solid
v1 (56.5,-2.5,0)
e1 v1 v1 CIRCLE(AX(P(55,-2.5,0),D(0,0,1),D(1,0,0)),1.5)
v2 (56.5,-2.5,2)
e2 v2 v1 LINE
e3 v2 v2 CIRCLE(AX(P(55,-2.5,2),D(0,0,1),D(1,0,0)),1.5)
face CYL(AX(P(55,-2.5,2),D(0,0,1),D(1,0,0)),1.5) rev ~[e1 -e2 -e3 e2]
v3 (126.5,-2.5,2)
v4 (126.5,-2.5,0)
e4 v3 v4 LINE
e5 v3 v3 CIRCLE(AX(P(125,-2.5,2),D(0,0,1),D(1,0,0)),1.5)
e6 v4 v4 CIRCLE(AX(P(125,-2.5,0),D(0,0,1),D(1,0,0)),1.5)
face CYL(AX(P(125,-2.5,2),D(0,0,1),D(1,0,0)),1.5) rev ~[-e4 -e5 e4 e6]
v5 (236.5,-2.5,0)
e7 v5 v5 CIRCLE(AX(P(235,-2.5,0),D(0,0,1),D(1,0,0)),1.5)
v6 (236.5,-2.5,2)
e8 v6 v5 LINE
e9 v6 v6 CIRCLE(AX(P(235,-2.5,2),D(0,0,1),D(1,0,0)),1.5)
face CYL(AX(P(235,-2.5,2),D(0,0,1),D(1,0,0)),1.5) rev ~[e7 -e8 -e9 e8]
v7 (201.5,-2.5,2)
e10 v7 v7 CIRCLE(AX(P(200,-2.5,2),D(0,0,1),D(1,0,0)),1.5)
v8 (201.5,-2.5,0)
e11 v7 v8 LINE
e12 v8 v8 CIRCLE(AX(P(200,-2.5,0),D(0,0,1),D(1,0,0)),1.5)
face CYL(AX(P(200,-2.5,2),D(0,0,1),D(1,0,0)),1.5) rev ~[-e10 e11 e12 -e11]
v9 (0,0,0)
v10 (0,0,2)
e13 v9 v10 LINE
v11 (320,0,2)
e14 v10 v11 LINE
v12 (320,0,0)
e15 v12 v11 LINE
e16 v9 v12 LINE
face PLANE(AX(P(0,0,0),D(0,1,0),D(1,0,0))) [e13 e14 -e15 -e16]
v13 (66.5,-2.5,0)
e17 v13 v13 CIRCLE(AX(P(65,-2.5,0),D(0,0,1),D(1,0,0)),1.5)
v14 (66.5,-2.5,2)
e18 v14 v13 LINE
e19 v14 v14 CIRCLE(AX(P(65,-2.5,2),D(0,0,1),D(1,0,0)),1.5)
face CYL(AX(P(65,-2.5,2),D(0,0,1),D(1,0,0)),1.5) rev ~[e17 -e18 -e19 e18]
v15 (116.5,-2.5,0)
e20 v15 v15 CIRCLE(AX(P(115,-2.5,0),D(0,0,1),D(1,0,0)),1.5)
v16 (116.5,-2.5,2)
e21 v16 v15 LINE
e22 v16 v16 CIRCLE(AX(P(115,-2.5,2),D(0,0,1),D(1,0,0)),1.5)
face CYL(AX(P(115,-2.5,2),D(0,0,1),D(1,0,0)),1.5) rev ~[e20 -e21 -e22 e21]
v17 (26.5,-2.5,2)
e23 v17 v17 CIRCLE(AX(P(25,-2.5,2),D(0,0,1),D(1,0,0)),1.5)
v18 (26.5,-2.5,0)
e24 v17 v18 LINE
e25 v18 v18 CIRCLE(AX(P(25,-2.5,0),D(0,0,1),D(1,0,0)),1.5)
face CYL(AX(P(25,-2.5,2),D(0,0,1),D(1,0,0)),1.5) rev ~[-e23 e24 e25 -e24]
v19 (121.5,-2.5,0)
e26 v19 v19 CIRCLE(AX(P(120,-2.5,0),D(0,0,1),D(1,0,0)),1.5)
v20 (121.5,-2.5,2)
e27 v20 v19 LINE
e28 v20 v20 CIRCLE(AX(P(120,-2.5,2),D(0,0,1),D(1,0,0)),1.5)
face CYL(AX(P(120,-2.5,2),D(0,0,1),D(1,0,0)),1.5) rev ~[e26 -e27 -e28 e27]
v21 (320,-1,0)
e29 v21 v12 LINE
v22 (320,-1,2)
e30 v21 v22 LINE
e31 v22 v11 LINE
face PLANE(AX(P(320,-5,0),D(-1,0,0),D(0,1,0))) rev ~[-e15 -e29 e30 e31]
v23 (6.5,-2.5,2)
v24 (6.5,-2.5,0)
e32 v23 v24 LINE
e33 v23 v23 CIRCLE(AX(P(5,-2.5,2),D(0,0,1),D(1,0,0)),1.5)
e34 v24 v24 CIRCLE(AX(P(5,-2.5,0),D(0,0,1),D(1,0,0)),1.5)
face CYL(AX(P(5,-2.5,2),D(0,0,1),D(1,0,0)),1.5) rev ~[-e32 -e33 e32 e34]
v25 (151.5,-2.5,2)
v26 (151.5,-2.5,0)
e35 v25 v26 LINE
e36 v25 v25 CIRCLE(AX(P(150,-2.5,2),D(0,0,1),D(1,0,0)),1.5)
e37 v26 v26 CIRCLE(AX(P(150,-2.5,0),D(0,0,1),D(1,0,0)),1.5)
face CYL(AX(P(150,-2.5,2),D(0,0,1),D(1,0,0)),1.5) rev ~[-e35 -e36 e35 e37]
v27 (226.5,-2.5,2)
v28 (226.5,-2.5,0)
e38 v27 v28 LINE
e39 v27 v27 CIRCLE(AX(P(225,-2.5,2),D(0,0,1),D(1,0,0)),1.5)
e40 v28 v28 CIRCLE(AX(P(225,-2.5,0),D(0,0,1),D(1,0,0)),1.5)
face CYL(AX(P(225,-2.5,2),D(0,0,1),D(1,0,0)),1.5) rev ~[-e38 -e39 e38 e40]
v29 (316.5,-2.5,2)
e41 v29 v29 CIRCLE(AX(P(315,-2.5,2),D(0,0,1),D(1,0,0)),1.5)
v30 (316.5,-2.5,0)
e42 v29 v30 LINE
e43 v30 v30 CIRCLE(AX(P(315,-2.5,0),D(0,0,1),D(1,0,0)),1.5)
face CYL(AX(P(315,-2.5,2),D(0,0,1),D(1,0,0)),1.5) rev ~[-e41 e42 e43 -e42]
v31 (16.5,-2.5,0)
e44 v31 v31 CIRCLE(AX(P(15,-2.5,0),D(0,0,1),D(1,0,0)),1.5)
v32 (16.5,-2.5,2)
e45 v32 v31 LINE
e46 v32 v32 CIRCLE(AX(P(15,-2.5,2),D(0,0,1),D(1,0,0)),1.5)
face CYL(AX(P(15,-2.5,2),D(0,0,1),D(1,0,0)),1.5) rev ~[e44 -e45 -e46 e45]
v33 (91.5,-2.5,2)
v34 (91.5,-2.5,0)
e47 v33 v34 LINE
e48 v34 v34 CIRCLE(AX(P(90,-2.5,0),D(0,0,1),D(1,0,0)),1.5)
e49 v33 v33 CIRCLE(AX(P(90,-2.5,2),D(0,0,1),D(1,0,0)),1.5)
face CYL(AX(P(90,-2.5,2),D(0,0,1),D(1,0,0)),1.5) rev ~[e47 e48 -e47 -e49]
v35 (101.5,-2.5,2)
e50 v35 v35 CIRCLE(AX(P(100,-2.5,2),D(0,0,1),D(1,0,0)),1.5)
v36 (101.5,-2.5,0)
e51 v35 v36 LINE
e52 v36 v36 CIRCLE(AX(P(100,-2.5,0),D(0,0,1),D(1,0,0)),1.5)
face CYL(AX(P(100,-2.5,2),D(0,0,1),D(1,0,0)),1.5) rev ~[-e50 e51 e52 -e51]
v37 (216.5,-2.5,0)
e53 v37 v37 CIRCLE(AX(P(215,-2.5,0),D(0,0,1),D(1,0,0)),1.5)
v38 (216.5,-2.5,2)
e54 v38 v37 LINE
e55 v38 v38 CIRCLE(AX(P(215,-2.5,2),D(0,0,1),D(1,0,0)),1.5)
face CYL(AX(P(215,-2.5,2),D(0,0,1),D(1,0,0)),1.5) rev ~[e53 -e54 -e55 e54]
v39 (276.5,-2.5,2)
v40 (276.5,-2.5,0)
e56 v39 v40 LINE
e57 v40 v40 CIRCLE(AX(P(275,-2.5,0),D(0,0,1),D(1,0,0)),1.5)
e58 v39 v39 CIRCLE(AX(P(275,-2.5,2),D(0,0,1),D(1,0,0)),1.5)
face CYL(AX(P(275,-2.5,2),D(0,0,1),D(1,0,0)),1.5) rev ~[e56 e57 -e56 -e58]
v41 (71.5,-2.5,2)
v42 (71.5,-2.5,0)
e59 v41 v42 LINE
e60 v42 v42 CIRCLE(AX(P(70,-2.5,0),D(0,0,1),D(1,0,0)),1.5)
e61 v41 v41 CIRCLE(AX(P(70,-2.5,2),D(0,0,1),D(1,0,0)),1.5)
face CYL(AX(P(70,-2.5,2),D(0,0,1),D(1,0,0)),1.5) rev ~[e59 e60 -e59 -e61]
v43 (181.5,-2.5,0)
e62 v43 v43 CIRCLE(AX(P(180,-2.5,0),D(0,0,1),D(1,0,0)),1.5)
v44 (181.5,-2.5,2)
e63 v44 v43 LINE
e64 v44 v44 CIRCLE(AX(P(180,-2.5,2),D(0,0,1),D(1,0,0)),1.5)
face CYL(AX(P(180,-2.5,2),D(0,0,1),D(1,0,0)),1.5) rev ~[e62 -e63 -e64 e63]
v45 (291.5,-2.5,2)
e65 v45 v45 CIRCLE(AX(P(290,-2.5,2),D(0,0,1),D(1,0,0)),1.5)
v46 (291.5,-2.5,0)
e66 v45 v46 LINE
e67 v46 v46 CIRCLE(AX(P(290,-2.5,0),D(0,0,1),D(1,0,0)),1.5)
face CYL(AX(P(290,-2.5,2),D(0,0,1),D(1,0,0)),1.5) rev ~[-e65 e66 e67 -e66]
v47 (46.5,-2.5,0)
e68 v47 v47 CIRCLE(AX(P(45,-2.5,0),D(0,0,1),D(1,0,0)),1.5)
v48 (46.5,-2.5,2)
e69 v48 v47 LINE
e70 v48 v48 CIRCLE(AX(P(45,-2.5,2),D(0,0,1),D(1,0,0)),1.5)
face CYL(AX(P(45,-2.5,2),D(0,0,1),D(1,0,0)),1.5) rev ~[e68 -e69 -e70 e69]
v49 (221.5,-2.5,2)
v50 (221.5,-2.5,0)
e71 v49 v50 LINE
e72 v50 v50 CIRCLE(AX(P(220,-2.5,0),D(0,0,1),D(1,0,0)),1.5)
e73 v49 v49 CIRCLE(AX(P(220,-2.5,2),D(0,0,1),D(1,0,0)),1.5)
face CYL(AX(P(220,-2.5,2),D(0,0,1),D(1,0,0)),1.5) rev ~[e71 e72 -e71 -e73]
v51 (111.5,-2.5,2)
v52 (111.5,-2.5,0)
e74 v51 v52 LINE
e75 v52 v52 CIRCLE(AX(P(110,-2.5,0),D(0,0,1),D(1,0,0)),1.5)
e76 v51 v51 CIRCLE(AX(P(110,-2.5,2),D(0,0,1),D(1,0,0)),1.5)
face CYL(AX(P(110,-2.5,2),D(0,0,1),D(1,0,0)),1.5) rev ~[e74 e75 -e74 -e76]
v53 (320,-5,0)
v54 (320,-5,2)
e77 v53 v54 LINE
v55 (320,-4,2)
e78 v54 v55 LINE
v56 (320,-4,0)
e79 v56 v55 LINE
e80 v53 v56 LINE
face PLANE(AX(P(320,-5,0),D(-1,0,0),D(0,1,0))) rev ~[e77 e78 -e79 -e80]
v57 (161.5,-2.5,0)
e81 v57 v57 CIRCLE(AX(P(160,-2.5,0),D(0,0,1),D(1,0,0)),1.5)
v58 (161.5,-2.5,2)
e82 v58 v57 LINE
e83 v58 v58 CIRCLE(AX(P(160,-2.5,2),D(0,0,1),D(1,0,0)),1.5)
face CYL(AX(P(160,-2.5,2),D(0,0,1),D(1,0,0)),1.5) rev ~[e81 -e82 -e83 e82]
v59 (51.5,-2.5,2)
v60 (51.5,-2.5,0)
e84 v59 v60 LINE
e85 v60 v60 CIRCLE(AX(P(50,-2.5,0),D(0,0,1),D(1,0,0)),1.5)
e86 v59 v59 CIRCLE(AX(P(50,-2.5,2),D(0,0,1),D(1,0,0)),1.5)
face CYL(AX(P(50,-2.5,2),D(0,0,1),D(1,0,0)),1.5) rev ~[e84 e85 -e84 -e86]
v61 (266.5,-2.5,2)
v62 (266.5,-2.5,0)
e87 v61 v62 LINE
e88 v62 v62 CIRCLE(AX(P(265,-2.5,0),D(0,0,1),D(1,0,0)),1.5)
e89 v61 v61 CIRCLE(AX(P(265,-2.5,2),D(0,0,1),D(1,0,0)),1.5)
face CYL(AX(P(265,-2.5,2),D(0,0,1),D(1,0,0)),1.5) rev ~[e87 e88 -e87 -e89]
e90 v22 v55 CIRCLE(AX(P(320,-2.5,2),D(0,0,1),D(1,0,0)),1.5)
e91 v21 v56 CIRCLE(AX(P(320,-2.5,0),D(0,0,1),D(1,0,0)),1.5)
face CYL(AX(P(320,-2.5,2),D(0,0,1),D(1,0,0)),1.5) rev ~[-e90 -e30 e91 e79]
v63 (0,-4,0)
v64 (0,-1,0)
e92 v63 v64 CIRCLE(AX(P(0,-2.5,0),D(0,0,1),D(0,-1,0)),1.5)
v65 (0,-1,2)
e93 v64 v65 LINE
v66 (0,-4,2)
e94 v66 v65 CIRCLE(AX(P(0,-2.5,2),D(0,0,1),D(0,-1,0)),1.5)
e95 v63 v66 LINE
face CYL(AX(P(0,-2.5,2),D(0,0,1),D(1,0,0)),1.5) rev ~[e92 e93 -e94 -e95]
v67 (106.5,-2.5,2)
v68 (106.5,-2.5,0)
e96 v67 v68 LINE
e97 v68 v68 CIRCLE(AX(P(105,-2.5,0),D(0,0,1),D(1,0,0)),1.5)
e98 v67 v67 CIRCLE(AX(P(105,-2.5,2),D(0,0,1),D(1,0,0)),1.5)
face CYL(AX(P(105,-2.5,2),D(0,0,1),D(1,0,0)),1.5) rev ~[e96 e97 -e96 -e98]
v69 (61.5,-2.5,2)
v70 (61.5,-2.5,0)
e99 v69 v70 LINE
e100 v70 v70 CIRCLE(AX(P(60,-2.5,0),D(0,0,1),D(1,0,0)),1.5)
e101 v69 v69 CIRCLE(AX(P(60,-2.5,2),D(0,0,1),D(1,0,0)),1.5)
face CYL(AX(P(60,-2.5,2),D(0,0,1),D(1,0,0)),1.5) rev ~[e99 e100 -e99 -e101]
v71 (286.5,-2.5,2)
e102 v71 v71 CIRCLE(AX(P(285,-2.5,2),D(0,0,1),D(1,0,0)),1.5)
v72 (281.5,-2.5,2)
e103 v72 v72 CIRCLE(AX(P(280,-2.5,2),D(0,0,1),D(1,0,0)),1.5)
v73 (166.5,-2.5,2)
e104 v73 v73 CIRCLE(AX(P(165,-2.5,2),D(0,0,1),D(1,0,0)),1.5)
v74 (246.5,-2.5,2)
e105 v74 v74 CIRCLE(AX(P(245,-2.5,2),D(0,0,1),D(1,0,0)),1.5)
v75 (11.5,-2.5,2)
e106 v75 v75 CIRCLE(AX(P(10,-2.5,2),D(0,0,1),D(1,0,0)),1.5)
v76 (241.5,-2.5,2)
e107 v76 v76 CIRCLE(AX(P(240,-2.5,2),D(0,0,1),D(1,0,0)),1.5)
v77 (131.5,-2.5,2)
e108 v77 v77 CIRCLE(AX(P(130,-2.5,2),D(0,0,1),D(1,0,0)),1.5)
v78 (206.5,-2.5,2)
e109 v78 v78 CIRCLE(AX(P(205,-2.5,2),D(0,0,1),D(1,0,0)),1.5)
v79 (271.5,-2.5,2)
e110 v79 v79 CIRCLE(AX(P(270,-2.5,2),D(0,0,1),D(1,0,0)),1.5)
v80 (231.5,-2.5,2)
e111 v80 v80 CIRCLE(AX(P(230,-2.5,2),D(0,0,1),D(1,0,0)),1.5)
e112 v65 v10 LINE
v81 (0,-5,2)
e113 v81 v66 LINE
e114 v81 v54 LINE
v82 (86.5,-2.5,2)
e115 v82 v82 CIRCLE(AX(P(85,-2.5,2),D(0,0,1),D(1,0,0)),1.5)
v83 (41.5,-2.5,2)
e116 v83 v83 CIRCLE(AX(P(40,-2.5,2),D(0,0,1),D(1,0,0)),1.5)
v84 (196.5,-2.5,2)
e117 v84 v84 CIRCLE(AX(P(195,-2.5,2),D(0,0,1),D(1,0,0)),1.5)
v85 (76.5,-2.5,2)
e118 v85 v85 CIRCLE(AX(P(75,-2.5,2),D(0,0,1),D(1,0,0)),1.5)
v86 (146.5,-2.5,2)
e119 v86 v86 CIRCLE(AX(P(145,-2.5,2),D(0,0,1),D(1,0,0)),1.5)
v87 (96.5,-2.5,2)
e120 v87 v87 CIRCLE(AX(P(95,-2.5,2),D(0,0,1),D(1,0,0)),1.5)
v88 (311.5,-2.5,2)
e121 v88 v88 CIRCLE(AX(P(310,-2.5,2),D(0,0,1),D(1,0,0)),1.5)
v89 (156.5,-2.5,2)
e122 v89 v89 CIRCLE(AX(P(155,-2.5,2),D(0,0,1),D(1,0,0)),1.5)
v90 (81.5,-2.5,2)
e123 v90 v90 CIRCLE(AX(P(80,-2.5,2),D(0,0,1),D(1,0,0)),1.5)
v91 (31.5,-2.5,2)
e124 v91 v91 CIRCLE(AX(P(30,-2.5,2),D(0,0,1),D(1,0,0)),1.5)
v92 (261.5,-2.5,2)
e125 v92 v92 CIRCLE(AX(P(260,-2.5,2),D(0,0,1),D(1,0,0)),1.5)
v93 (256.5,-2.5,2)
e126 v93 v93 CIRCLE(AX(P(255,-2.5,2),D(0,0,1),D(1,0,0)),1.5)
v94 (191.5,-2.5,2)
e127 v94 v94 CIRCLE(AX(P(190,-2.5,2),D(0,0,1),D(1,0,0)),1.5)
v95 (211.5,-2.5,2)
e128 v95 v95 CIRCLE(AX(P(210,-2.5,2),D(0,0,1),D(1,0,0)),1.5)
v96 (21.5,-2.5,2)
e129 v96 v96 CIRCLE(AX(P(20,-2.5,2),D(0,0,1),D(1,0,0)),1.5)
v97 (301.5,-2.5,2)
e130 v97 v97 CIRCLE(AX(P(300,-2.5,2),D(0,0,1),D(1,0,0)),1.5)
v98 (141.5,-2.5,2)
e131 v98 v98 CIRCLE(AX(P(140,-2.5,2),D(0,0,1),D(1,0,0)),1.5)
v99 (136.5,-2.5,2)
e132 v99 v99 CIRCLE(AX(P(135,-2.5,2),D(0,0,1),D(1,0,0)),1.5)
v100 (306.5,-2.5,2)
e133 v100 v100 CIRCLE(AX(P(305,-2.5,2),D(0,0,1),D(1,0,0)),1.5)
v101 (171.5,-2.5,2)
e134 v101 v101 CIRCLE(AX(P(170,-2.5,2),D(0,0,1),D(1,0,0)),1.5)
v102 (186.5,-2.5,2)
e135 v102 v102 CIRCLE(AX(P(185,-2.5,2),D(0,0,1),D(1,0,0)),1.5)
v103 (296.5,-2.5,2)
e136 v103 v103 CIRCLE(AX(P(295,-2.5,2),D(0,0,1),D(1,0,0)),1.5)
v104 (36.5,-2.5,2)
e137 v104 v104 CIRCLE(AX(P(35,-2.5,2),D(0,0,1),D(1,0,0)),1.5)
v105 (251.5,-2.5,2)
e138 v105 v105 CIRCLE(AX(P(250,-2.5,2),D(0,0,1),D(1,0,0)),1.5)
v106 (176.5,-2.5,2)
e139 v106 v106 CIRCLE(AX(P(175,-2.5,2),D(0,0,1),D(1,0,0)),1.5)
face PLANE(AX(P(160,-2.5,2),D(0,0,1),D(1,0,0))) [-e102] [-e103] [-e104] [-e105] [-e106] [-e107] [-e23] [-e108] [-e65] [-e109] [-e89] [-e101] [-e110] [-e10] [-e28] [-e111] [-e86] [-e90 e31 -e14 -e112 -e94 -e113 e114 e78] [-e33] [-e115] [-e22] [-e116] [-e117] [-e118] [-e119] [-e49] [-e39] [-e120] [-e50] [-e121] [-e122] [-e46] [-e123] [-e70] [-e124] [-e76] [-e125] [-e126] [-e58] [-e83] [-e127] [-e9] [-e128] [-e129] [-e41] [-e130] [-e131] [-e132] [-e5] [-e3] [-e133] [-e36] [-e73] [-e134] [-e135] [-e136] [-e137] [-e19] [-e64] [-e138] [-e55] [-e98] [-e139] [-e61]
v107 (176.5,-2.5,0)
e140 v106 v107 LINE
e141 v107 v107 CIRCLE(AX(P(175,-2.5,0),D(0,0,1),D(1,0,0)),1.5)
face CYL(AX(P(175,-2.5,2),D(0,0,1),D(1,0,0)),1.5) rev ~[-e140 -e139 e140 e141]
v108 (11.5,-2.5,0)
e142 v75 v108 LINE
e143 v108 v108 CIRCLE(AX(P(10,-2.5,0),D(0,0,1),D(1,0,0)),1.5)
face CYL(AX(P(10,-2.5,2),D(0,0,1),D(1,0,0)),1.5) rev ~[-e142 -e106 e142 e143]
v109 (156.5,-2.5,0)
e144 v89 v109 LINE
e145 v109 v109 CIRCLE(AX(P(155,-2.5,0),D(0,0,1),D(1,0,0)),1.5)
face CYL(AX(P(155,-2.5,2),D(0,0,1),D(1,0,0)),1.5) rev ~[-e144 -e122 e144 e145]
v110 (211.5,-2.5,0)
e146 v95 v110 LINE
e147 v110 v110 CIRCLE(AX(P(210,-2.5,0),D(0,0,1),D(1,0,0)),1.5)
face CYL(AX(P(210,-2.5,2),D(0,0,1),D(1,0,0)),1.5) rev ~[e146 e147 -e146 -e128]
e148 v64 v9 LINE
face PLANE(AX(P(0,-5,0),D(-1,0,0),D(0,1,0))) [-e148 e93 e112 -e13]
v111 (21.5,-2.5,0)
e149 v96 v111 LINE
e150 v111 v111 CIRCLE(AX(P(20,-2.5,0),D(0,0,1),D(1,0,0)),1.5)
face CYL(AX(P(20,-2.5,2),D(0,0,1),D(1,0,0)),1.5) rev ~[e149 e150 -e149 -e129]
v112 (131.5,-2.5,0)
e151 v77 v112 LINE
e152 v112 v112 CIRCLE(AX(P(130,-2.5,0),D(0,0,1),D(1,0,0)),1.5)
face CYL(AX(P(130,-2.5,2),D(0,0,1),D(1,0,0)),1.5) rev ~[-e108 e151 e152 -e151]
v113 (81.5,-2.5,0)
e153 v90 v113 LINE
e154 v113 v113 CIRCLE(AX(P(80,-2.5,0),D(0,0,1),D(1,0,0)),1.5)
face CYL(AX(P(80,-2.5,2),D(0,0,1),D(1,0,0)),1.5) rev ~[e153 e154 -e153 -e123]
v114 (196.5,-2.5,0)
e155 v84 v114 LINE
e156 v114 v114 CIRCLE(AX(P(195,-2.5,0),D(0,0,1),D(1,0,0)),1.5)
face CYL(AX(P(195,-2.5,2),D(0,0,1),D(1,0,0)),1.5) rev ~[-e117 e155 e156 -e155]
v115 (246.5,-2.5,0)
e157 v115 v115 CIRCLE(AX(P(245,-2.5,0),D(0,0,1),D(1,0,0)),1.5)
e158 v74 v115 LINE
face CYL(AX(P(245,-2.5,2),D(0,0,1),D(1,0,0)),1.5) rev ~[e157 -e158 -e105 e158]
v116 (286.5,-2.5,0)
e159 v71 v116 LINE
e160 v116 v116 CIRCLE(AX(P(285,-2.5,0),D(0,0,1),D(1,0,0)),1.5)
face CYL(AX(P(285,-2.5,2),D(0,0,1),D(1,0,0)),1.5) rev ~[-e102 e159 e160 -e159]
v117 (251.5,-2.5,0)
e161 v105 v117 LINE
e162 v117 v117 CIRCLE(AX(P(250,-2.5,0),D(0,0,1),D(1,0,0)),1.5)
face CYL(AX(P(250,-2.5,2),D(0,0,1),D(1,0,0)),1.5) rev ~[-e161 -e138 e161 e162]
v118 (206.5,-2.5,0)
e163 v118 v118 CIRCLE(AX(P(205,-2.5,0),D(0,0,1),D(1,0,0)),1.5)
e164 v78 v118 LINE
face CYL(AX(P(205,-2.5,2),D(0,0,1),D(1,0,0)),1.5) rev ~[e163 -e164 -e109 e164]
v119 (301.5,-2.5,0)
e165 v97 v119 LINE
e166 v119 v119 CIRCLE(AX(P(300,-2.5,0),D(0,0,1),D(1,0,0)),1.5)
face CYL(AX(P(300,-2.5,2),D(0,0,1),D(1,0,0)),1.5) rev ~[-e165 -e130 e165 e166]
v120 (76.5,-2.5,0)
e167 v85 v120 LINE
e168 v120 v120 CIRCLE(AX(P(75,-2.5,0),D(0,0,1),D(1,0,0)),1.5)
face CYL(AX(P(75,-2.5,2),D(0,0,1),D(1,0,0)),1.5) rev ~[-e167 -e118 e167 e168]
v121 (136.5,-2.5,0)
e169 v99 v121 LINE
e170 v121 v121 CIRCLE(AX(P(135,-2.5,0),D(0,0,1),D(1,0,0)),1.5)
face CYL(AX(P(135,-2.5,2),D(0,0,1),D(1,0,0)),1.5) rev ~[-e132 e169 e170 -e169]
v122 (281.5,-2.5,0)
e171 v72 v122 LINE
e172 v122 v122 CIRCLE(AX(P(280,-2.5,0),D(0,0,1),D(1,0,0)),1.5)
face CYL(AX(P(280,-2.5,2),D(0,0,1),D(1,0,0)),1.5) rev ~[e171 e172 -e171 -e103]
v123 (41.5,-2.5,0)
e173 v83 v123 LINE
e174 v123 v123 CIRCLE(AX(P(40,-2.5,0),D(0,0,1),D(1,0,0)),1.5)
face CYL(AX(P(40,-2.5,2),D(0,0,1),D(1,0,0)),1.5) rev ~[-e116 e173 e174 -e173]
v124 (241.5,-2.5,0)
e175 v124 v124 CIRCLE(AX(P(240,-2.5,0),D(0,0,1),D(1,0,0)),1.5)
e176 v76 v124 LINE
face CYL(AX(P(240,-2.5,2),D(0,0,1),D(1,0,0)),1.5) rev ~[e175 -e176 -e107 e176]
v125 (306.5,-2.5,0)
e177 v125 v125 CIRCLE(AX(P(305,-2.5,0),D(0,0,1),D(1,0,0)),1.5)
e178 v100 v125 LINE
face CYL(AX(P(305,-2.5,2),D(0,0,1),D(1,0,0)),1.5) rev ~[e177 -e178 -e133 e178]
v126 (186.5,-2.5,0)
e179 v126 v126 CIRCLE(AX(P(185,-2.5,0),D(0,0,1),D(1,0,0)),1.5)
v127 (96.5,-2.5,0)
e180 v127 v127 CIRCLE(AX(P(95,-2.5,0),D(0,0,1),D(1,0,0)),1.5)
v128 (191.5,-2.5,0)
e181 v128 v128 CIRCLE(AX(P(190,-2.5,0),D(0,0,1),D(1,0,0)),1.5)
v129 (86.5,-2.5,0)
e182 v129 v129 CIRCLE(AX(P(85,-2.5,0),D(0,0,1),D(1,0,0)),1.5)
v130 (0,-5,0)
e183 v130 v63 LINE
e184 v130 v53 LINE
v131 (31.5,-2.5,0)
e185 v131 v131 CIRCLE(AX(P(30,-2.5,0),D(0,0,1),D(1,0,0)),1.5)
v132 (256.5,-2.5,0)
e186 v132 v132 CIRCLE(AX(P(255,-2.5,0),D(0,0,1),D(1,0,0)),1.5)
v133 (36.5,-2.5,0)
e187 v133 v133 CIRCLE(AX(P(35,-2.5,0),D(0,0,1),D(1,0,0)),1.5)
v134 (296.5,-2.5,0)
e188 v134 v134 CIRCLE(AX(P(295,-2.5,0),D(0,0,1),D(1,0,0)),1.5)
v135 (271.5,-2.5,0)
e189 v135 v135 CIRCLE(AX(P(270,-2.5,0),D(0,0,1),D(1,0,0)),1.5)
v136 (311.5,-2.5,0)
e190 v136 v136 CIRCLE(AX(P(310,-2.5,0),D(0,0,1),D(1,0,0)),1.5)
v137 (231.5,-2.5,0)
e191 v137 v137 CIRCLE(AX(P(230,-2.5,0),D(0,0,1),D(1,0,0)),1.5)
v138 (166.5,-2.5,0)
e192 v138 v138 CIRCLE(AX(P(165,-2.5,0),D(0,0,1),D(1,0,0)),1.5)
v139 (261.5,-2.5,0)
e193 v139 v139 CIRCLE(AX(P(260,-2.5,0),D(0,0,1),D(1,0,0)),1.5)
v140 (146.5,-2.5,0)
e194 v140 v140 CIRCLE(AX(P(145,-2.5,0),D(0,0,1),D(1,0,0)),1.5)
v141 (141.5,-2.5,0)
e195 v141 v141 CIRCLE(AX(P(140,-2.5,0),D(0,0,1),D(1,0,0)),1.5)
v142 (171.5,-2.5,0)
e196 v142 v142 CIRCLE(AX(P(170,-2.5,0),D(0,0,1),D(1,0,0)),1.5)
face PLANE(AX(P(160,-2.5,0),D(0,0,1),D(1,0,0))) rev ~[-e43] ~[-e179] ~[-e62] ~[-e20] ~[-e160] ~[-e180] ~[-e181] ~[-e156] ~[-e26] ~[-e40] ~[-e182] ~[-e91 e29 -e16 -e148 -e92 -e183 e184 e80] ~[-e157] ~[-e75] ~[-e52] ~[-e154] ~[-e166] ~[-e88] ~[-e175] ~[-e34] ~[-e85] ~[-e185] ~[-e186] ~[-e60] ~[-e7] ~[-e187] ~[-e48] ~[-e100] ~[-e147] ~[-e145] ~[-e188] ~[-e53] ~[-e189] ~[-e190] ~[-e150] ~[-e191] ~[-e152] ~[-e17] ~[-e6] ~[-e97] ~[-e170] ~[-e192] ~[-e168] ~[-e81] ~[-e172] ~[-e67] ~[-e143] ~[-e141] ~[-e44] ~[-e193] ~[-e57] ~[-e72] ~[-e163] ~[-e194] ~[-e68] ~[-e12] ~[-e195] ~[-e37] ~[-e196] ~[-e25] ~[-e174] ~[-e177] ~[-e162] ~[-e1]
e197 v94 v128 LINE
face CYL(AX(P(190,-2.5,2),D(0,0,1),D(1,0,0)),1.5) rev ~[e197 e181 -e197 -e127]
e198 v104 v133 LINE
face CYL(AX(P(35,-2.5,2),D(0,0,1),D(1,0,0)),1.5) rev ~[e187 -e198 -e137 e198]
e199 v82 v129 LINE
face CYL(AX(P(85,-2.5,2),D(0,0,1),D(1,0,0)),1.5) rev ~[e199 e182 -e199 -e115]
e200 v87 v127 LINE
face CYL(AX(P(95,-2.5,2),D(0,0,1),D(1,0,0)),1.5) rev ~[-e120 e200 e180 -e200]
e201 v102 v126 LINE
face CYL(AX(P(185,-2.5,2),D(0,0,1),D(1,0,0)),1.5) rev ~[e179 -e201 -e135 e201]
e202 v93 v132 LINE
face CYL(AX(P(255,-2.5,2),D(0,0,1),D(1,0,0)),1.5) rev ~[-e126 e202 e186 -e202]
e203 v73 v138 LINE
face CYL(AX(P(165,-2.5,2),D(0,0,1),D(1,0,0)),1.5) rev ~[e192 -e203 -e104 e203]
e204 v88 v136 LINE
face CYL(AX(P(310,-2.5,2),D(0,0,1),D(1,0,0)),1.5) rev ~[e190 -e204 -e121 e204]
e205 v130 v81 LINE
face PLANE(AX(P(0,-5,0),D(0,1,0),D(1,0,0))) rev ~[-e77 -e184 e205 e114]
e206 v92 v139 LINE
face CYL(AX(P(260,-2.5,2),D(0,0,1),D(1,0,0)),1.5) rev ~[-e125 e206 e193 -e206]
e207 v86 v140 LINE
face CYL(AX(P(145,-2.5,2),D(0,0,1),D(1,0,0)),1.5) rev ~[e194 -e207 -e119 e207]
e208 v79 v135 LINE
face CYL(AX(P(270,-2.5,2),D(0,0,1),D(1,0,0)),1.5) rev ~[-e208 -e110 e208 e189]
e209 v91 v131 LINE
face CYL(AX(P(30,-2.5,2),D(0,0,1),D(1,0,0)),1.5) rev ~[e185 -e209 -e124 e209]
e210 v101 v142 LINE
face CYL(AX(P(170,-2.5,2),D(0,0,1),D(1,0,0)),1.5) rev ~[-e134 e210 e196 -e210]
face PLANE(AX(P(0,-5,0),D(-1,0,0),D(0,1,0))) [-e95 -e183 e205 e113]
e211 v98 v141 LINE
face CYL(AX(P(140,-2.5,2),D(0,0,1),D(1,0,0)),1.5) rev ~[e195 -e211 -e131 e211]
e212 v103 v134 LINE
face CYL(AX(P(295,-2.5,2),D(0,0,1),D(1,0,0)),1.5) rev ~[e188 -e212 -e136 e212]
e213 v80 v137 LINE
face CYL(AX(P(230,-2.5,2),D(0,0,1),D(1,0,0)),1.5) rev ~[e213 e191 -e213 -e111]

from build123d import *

# Parameters (mm, degrees)
SKETCH_1_W             = 320
SKETCH_1_H             = 5
EXTRUDE_1_DEPTH        = 2
SKETCH_2_R             = 1.5
CUT_EXTRUDE_1_DEPTH    = 321.045309292
PATTERN_LINEAR_1_COUNT = 35
PATTERN_LINEAR_1_PITCH = 5
PATTERN_LINEAR_2_COUNT = 35
PATTERN_LINEAR_2_PITCH = 5


with BuildPart() as part:
    # 草图1 → 凸台-拉伸1 (new body)
    with BuildSketch(Plane.XY):
        with Locations((160, -2.5)):
            Rectangle(SKETCH_1_W, SKETCH_1_H)
    extrude(amount=EXTRUDE_1_DEPTH)

    # 草图2 → 切除-拉伸1 (cut, through all)
    with BuildSketch(Plane.XY.offset(2)):
        with Locations((160, -2.5)):
            Circle(SKETCH_2_R)
    cut_extrude_1 = extrude(amount=-CUT_EXTRUDE_1_DEPTH, mode=Mode.SUBTRACT)

    # 阵列(线性)1: 切除-拉伸1 ×35
    with Locations(*[(i * PATTERN_LINEAR_1_PITCH, 0, 0) for i in range(1, PATTERN_LINEAR_1_COUNT)]):
        add(cut_extrude_1, mode=Mode.SUBTRACT)

    # 阵列(线性)2: 切除-拉伸1 ×35
    with Locations(*[(-i * PATTERN_LINEAR_2_PITCH, 0, 0) for i in range(1, PATTERN_LINEAR_2_COUNT)]):
        add(cut_extrude_1, mode=Mode.SUBTRACT)


solid = part.part
